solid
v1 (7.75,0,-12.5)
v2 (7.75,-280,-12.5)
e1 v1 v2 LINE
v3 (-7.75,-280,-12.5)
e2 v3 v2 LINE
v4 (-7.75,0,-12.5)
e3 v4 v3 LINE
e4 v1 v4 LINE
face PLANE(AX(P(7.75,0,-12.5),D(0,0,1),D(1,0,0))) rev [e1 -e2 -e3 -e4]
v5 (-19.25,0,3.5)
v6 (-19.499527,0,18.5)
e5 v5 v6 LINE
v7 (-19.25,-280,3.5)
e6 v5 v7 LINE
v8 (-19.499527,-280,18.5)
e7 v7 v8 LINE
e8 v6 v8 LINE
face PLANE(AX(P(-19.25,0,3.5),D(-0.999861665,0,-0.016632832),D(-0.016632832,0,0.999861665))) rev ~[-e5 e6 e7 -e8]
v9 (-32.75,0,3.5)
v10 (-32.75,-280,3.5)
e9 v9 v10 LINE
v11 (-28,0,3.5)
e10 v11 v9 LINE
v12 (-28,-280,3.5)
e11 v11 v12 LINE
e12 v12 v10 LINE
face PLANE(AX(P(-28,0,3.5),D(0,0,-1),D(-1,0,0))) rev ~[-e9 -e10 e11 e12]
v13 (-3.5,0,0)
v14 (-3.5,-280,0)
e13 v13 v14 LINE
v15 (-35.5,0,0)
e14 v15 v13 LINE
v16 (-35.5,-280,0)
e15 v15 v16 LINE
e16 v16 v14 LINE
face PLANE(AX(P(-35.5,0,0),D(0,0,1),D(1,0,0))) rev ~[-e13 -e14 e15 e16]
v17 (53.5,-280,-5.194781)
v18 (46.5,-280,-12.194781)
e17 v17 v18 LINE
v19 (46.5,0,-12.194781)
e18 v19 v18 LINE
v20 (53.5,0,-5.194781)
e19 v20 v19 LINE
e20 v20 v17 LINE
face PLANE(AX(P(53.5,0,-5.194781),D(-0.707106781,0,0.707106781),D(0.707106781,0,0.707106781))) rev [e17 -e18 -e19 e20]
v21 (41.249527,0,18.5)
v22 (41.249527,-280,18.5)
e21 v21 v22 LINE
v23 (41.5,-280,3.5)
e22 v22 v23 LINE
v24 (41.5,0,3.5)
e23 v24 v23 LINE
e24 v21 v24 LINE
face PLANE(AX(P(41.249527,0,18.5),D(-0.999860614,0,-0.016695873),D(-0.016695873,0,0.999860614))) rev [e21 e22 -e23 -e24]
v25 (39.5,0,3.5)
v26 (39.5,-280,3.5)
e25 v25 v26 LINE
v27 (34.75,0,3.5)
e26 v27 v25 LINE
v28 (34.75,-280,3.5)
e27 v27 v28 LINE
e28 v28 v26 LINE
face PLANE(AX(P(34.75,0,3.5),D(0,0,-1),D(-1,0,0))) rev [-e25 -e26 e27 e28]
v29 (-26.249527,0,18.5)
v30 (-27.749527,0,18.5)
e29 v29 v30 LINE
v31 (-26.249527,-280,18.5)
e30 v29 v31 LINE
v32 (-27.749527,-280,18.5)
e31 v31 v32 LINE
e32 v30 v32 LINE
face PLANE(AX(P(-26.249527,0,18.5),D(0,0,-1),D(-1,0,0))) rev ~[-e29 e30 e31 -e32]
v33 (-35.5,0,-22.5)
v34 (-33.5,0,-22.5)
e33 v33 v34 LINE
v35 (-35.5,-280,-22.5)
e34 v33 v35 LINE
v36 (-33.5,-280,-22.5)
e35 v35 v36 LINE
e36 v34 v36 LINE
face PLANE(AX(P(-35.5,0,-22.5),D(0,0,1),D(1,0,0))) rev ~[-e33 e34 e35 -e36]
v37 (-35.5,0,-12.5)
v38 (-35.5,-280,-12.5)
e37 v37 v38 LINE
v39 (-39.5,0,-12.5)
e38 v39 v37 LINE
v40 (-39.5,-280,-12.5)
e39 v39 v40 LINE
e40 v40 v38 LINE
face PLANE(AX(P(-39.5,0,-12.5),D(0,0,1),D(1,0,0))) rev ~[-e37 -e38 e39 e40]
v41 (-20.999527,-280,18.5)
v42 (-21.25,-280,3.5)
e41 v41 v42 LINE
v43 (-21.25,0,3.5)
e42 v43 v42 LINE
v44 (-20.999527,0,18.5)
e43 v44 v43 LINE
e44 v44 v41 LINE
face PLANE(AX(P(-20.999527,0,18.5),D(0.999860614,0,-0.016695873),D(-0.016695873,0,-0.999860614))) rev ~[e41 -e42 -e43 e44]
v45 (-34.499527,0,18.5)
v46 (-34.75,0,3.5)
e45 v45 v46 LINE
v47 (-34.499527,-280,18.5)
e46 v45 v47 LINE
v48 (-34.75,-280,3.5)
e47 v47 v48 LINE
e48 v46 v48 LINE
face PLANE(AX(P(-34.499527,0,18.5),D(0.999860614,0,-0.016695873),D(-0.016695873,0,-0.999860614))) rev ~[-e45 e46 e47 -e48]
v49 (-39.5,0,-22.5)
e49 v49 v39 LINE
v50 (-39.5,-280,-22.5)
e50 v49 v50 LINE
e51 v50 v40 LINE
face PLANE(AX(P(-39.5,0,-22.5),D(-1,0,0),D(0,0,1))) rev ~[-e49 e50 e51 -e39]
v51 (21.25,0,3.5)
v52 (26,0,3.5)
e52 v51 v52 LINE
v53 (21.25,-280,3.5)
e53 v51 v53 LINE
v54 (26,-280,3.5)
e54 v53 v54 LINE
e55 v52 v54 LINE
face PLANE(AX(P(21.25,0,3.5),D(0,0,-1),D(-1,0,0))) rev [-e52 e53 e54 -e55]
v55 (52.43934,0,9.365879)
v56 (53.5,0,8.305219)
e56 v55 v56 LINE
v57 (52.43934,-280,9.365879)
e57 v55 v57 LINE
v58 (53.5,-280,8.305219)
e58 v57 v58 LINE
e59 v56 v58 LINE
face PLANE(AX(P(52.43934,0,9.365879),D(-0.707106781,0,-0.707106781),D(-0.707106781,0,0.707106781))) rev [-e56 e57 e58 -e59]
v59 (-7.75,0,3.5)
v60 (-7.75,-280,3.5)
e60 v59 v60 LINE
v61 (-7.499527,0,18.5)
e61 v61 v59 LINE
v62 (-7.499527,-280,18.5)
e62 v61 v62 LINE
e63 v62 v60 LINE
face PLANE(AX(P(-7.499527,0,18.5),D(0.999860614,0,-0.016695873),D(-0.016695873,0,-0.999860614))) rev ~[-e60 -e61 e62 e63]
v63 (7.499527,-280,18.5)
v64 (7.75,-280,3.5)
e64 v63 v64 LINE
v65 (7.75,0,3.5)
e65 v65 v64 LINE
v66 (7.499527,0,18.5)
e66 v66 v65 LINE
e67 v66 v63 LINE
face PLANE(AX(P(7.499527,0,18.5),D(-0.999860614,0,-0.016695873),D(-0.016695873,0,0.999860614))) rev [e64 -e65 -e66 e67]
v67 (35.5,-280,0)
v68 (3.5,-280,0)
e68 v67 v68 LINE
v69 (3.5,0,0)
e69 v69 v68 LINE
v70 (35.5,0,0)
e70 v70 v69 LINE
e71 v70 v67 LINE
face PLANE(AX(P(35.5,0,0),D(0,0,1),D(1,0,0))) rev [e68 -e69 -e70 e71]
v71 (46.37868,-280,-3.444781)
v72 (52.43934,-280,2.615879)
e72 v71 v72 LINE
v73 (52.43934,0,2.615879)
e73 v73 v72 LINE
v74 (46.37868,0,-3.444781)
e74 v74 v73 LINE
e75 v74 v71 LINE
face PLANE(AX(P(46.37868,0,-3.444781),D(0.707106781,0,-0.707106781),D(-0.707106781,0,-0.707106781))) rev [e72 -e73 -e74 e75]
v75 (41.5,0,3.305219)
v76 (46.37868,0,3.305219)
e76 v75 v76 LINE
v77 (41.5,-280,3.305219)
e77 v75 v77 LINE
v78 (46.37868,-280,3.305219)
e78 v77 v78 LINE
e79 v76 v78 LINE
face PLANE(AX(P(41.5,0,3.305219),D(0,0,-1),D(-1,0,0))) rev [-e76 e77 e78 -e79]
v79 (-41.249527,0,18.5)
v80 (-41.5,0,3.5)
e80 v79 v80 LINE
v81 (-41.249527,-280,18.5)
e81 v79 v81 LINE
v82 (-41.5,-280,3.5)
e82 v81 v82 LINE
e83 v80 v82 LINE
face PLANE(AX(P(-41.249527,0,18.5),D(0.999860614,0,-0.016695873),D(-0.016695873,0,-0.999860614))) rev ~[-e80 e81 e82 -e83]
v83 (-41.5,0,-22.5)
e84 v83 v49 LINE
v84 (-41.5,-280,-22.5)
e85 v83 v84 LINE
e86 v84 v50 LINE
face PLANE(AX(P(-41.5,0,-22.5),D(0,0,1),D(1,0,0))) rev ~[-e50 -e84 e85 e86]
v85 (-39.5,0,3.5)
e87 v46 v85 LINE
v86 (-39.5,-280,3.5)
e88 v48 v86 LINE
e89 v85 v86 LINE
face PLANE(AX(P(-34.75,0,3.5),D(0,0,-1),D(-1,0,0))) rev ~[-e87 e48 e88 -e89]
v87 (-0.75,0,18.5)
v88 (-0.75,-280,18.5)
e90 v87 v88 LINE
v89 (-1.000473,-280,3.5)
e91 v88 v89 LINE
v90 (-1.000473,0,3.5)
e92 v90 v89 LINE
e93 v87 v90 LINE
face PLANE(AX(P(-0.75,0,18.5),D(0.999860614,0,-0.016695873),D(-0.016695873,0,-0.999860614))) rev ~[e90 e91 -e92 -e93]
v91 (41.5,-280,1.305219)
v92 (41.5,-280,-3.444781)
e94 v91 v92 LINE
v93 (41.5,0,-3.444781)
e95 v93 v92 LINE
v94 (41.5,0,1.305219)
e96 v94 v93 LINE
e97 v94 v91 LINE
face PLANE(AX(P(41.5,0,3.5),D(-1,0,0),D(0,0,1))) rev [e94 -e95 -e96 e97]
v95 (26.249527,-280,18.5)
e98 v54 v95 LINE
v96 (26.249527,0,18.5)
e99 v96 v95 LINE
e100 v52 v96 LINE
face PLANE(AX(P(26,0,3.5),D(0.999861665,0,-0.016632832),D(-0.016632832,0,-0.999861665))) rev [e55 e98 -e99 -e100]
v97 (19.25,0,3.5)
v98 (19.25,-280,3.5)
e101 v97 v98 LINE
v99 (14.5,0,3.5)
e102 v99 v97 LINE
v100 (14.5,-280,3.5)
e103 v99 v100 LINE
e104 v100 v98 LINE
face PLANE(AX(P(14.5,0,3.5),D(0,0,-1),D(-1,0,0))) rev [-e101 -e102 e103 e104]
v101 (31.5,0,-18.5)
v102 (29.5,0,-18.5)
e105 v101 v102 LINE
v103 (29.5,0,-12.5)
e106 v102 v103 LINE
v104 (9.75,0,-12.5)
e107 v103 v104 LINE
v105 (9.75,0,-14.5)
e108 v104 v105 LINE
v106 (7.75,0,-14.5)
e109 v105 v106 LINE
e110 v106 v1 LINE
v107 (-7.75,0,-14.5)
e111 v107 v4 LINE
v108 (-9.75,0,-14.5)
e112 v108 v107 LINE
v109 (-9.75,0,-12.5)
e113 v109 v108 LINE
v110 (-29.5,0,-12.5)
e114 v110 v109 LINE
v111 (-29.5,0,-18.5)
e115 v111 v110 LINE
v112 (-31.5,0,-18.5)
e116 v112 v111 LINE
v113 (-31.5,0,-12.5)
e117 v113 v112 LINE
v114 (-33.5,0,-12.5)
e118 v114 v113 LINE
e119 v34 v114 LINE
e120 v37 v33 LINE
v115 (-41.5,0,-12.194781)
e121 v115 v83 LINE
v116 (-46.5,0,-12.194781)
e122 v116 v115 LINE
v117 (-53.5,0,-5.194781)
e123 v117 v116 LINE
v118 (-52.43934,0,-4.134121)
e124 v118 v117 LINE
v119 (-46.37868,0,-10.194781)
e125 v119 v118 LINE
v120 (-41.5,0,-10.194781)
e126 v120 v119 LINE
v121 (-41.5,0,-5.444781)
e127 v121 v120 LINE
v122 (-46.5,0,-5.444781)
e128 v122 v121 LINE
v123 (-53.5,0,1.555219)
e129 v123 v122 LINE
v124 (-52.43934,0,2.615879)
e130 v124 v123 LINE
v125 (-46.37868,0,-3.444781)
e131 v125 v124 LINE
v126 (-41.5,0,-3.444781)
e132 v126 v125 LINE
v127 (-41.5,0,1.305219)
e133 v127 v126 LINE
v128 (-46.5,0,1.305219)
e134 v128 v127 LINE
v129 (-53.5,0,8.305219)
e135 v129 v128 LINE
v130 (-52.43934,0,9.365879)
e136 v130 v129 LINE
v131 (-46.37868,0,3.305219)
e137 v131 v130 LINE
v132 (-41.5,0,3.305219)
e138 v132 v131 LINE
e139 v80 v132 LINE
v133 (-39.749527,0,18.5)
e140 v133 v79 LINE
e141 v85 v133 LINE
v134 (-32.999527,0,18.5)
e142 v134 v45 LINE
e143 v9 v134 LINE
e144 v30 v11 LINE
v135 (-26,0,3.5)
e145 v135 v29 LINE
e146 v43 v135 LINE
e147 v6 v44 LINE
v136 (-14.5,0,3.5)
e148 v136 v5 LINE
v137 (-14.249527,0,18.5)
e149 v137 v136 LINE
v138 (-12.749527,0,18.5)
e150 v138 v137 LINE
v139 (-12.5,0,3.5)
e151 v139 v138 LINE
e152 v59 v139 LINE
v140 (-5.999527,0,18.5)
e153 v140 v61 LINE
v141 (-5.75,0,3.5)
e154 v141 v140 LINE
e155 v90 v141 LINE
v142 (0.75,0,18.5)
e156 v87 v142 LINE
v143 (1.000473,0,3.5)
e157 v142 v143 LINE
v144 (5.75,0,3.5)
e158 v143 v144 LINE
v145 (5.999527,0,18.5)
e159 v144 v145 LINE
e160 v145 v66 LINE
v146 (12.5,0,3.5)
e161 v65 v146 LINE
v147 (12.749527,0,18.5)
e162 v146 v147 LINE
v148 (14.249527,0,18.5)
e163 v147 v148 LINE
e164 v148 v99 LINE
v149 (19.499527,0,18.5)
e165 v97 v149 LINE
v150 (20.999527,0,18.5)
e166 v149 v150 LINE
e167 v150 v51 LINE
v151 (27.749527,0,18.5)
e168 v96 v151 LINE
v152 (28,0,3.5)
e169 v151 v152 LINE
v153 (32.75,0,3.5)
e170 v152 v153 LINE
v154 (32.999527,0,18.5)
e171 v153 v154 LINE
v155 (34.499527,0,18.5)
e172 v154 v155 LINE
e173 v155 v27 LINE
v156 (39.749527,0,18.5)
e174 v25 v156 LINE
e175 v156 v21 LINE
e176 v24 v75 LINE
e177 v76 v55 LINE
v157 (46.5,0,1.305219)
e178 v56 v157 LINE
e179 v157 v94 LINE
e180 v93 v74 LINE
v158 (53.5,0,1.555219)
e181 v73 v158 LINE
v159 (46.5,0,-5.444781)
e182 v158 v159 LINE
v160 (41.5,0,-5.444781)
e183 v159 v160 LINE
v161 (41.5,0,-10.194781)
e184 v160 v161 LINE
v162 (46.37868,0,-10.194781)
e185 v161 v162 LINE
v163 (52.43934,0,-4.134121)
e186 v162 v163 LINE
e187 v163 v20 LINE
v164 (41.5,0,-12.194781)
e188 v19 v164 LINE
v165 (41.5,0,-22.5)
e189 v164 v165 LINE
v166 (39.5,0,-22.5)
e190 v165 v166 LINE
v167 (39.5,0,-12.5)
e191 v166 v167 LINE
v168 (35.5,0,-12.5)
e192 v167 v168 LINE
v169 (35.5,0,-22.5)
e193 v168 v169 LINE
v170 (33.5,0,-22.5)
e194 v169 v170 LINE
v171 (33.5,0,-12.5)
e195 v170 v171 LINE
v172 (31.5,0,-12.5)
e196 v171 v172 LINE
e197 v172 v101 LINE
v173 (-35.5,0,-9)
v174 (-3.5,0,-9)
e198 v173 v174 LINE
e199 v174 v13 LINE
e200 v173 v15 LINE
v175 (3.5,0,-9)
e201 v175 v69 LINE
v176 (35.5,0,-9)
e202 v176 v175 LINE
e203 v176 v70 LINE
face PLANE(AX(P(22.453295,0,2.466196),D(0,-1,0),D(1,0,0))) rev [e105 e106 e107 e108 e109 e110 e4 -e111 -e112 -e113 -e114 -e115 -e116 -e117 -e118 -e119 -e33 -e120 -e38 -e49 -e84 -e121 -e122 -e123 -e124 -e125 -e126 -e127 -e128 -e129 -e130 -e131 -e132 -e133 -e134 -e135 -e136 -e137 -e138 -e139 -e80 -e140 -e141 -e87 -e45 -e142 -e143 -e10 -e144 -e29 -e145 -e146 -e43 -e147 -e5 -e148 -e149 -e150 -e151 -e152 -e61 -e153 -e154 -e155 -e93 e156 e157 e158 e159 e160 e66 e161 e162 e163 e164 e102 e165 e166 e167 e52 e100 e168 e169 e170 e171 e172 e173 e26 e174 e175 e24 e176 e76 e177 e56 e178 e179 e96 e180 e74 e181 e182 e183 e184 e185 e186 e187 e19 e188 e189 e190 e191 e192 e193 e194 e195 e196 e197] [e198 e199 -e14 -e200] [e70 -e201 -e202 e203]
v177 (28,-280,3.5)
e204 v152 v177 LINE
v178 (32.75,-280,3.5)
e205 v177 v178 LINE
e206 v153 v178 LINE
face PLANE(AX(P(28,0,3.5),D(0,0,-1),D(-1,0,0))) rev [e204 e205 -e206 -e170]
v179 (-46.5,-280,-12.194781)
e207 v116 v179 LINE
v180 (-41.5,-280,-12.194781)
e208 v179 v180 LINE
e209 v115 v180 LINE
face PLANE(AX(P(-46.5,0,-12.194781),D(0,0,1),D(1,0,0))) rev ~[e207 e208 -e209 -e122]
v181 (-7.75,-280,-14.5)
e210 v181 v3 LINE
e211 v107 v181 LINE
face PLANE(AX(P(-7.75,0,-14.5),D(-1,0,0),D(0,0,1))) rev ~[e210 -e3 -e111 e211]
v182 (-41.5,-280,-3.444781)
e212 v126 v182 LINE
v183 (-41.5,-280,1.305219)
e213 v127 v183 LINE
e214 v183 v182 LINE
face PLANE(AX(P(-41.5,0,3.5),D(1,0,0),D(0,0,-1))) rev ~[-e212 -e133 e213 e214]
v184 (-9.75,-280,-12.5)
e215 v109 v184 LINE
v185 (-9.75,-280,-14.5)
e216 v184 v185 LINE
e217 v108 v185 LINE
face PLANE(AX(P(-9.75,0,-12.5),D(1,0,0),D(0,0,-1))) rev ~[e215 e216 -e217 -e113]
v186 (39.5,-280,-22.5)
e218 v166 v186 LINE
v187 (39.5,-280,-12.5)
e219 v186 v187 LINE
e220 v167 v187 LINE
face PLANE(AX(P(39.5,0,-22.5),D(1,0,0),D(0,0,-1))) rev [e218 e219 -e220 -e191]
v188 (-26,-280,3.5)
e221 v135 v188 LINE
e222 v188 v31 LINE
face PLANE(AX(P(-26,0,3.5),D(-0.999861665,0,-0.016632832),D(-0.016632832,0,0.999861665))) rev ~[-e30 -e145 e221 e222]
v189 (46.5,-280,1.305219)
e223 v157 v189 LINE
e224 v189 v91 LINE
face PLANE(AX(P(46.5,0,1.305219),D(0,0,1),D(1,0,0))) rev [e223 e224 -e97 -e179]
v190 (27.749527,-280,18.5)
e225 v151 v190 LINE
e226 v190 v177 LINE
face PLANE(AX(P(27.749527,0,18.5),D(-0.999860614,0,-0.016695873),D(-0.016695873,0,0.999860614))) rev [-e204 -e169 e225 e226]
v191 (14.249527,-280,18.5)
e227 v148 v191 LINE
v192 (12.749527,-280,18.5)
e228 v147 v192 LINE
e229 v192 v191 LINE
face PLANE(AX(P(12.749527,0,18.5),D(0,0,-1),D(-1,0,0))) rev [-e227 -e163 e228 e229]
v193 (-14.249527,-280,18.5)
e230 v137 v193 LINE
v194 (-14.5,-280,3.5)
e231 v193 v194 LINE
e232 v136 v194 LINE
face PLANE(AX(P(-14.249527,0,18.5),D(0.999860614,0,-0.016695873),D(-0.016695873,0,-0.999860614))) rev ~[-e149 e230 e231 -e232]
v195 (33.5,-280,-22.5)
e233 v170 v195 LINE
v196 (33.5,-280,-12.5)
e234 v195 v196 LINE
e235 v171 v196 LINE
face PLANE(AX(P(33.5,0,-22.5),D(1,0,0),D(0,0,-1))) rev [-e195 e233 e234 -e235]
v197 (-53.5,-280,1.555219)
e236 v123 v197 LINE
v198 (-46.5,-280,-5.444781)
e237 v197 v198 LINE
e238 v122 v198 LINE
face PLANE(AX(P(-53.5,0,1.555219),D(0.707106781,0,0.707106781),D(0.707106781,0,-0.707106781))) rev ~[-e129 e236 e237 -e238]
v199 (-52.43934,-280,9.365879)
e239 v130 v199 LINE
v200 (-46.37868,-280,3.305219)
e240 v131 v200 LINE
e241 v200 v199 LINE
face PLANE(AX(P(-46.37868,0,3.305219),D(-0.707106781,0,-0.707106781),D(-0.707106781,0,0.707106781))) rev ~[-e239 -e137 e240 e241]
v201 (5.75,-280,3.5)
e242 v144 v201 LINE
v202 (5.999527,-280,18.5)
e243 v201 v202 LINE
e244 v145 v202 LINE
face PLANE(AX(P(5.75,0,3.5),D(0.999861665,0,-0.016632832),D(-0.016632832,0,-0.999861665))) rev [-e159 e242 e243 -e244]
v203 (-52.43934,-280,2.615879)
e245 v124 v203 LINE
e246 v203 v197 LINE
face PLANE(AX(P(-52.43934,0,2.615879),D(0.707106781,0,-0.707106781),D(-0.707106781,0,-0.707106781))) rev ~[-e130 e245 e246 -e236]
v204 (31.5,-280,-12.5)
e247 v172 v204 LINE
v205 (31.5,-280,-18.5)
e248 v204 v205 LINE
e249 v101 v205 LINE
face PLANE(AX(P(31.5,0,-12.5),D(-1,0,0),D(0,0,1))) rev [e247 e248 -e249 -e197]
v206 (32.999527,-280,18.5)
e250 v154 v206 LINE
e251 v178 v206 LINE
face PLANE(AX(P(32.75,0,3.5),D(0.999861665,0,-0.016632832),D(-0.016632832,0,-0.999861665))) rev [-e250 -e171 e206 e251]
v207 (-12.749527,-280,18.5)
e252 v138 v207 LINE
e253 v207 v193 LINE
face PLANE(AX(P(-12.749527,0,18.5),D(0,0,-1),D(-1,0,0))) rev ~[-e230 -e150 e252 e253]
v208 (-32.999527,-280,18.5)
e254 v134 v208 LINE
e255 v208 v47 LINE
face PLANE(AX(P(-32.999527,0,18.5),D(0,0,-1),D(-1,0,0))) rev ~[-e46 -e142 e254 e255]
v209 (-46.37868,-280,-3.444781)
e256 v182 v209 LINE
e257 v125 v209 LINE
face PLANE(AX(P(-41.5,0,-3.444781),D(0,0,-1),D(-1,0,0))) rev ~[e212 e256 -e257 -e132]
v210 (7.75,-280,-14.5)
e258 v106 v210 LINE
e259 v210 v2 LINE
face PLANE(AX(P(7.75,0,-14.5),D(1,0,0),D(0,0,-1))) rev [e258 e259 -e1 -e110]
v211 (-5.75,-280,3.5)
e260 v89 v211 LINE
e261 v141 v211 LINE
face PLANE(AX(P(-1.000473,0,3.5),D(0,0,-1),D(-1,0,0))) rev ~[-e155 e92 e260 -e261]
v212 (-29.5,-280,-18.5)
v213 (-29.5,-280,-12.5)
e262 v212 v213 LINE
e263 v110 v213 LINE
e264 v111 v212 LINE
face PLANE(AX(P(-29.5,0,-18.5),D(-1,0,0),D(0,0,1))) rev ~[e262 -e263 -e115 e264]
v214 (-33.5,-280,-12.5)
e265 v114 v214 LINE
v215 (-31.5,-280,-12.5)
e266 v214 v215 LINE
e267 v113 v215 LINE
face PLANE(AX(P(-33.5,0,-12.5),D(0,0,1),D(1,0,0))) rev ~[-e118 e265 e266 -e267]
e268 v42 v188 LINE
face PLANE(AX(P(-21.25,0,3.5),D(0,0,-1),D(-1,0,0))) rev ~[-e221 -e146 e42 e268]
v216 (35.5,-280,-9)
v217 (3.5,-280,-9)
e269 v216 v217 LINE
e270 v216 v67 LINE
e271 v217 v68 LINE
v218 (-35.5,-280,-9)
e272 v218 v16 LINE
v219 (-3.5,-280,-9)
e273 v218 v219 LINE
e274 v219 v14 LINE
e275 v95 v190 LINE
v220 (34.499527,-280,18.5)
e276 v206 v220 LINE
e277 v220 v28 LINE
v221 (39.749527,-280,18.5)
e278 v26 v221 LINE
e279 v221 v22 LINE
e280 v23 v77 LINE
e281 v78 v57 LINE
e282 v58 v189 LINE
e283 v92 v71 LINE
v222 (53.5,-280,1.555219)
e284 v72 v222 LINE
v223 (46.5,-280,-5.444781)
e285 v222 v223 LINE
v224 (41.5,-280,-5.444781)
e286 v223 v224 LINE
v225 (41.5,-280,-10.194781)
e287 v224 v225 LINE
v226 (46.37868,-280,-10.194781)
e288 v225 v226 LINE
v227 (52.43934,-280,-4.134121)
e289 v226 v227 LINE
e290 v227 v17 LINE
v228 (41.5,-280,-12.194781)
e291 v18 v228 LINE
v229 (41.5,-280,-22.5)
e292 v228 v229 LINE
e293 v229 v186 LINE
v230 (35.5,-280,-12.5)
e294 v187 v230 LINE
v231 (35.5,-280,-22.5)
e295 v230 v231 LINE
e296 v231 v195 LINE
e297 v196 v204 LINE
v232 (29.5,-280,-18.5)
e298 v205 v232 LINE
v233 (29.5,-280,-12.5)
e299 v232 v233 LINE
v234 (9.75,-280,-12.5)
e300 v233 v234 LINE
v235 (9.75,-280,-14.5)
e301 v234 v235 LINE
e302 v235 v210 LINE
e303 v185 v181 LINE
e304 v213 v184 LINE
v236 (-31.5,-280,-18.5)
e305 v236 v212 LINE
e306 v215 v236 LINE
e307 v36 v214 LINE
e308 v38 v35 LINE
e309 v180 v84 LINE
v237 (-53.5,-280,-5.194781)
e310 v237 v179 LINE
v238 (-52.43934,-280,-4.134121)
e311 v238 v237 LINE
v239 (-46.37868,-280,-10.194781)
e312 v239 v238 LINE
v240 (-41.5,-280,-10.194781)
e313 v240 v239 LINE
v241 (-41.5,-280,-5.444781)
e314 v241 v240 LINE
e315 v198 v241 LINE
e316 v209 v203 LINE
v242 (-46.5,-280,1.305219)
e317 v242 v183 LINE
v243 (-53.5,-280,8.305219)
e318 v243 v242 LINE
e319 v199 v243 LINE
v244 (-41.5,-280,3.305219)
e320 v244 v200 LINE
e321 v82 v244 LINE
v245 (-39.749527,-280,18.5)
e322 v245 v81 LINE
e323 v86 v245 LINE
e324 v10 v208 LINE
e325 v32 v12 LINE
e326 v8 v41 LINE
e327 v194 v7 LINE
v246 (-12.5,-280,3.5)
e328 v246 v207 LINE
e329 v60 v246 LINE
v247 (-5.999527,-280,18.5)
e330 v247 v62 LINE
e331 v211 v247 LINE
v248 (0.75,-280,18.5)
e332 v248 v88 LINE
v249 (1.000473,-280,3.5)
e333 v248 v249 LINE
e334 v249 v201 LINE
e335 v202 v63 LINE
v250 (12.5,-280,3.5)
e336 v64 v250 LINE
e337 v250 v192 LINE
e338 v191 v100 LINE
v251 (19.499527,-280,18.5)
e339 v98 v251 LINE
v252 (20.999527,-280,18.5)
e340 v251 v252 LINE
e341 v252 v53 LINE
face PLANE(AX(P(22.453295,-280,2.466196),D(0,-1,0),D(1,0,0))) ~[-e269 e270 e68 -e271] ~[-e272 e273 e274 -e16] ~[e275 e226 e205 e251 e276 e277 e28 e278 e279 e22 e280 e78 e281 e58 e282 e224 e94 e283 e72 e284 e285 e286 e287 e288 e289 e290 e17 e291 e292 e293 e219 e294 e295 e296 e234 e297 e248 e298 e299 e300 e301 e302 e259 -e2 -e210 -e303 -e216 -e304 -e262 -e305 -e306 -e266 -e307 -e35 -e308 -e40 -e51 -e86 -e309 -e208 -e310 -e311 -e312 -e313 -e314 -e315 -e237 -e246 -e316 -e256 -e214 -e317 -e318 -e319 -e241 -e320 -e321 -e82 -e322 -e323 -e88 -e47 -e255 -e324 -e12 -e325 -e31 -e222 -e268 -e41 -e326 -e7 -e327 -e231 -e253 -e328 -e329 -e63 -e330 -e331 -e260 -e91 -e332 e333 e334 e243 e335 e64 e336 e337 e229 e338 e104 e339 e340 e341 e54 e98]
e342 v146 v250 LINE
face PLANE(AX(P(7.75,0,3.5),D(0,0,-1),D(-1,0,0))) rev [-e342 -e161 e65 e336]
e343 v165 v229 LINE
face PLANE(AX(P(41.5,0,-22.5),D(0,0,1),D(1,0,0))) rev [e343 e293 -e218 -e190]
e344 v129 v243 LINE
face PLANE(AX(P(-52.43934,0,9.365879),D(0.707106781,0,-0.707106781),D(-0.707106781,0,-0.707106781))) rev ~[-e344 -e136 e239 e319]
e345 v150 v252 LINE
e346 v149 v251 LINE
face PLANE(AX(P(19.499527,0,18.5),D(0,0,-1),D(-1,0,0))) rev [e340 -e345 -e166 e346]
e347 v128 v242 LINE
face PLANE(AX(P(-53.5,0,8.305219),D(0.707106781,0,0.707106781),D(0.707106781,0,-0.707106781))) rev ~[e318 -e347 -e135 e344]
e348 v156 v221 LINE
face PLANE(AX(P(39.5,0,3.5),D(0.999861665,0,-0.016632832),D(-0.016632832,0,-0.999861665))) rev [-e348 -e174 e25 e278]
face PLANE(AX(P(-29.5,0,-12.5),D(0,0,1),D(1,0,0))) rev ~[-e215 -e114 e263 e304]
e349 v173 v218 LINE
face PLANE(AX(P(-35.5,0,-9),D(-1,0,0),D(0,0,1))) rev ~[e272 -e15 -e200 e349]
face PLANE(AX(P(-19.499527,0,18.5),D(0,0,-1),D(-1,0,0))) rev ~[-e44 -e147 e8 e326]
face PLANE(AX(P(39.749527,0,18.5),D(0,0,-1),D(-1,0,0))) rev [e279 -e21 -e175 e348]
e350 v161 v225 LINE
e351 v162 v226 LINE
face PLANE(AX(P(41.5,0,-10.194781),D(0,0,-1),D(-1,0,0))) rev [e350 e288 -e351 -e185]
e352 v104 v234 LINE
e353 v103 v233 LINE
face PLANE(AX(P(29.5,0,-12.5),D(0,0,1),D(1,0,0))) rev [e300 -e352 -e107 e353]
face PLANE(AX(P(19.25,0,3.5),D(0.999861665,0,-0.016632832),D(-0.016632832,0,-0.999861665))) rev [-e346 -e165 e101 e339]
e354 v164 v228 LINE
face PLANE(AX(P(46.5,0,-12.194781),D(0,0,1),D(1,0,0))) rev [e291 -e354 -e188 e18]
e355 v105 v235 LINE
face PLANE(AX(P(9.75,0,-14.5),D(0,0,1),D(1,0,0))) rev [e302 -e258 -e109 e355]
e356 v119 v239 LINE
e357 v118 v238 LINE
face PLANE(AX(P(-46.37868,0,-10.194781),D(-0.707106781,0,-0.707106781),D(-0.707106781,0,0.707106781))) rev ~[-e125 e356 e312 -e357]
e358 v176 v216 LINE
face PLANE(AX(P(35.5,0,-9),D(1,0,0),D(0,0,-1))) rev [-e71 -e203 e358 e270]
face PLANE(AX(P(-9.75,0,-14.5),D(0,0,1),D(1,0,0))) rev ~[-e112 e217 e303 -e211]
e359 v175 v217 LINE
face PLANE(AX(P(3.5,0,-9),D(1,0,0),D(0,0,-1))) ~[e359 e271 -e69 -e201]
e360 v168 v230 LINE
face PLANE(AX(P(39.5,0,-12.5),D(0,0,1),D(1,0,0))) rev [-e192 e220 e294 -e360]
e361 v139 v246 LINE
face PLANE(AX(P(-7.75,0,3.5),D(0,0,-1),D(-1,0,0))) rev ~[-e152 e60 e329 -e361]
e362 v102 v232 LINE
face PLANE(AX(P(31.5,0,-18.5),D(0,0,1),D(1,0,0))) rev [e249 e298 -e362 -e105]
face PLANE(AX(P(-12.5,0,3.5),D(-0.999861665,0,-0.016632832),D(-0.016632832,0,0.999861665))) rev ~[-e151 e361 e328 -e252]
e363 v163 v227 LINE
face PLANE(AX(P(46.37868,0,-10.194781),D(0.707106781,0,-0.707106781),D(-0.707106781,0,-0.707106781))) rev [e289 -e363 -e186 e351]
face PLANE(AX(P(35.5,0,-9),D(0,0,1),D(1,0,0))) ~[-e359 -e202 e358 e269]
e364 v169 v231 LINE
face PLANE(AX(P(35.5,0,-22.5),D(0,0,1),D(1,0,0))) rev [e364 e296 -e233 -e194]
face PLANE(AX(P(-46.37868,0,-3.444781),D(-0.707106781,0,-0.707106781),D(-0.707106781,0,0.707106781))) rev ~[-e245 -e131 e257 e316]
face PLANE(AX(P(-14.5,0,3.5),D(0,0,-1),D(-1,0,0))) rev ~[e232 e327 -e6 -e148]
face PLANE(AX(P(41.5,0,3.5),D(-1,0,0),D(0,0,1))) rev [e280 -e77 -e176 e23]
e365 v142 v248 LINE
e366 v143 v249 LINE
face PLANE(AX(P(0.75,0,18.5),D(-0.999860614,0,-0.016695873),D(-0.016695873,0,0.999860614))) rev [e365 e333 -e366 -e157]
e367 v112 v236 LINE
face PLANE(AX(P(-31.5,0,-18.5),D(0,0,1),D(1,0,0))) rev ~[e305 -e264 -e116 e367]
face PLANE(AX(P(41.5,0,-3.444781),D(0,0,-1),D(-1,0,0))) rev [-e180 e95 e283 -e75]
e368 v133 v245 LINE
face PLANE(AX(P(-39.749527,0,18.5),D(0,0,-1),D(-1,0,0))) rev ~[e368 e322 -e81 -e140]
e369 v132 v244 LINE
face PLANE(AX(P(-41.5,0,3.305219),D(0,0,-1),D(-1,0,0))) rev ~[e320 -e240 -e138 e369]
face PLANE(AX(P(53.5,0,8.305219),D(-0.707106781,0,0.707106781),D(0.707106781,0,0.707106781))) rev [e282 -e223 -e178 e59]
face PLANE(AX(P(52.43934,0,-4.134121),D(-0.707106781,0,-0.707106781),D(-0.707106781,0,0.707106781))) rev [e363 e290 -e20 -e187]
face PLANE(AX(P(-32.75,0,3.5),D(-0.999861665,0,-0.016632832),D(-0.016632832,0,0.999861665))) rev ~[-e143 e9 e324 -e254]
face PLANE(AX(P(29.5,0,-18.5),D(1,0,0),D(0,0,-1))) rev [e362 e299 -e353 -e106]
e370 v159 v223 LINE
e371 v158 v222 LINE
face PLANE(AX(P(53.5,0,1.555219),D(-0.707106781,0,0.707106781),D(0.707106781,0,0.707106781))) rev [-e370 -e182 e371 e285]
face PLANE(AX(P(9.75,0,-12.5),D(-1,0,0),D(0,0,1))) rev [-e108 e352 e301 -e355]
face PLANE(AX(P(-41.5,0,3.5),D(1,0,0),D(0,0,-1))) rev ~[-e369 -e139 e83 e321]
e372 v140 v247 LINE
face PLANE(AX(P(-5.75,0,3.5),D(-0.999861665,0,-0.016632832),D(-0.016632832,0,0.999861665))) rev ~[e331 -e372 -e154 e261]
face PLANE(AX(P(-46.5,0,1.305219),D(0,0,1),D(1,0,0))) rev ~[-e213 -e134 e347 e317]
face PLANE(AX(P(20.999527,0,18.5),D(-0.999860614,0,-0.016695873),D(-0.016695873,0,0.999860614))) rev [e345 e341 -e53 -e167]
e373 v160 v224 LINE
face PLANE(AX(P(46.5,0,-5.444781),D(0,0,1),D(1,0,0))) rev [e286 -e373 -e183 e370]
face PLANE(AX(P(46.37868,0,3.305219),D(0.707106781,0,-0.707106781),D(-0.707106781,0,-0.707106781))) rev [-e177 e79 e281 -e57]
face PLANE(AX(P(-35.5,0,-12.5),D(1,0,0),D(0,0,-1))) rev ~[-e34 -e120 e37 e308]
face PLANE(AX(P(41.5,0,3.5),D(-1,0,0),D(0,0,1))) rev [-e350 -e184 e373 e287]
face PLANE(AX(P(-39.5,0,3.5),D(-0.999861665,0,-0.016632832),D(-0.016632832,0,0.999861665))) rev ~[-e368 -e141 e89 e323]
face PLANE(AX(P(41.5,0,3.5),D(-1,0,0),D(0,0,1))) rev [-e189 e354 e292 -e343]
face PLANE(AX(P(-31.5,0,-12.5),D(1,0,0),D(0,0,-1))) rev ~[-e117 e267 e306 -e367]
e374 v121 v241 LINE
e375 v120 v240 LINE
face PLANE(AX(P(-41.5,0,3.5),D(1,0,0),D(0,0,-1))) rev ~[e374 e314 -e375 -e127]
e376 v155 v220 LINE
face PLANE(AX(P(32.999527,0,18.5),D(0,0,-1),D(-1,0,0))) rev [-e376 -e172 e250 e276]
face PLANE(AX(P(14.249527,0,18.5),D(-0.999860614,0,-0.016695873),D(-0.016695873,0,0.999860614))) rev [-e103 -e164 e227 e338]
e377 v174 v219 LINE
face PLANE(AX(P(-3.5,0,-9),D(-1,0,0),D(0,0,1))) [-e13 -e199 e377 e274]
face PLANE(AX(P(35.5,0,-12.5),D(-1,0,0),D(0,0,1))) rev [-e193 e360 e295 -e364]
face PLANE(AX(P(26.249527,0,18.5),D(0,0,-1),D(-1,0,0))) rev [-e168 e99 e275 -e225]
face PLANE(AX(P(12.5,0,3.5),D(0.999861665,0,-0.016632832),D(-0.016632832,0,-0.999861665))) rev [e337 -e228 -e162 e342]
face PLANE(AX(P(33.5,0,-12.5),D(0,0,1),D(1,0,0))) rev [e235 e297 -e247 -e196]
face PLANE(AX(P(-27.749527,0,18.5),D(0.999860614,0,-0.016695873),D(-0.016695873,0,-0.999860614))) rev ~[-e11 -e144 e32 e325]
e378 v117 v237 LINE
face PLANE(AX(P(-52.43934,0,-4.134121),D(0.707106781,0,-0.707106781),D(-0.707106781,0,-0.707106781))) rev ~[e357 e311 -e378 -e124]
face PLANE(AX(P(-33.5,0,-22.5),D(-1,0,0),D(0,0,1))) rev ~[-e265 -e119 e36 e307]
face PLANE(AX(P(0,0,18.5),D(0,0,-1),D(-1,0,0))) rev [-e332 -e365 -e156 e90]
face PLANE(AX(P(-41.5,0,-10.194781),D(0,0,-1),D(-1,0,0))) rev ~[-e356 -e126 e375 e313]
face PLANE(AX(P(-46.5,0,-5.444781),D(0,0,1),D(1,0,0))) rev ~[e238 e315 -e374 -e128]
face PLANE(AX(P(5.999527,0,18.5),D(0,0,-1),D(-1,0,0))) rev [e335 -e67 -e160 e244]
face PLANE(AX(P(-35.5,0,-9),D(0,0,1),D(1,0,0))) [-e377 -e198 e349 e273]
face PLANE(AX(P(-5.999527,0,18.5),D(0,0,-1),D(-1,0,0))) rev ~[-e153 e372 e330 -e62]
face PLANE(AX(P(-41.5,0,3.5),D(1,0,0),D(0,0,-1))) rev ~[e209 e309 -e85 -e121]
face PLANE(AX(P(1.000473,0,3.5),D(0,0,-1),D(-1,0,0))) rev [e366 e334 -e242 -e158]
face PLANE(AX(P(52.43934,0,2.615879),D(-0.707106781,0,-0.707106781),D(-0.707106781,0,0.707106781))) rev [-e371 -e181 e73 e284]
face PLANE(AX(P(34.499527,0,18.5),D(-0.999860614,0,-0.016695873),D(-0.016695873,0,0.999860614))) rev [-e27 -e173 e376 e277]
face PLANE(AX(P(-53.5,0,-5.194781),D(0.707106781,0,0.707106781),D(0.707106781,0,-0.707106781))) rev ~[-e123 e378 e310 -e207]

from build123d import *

# Parameters (mm, degrees)
F0_W     = 32
F0_H     = 9
F1_DEPTH = 280
F3_DEPTH = 280


with BuildPart() as f1:
    # F0 (on Front) → F1 (new body)
    with BuildSketch(Plane.XZ):
        Polygon((-41.5, -22.5), (-39.5, -22.5), (-39.5, -12.5), (-35.5, -12.5), (-35.5, -22.5), (-33.5, -22.5), (-33.5, -12.5), (-31.5, -12.5), (-31.5, -18.5), (-29.5, -18.5), (-29.5, -12.5), (-9.75, -12.5), (-9.75, -14.5), (-7.75, -14.5), (-7.75, -12.5), (0, -12.5), (0, 18.5), (-0.75, 18.5), (-1.000473, 3.5), (-5.75, 3.5), (-5.999527, 18.5), (-7.499527, 18.5), (-7.75, 3.5), (-12.5, 3.5), (-12.749527, 18.5), (-14.249527, 18.5), (-14.5, 3.5), (-19.25, 3.5), (-19.499527, 18.5), (-20.999527, 18.5), (-21.25, 3.5), (-26, 3.5), (-26.249527, 18.5), (-27.749527, 18.5), (-28, 3.5), (-32.75, 3.5), (-32.999527, 18.5), (-34.499527, 18.5), (-34.75, 3.5), (-39.5, 3.5), (-39.749527, 18.5), (-41.249527, 18.5), (-41.5, 3.5), align=None)
        with Locations((-19.5, -4.5)):
            Rectangle(F0_W, F0_H, mode=Mode.SUBTRACT)
    extrude(amount=F1_DEPTH)

    # F2 (on Front) → F3 (join)
    with BuildSketch(Plane.XZ):
        Polygon((-46.5, -12.194781), (-41.5, -12.194781), (-41.5, -10.194781), (-46.37868, -10.194781), (-52.43934, -4.134121), (-53.5, -5.194781), align=None)
        Polygon((-53.5, 1.555219), (-46.5, -5.444781), (-41.5, -5.444781), (-41.5, -3.444781), (-46.37868, -3.444781), (-52.43934, 2.615879), align=None)
        Polygon((-53.5, 8.305219), (-46.5, 1.305219), (-41.5, 1.305219), (-41.5, 3.305219), (-46.37868, 3.305219), (-52.43934, 9.365879), align=None)
    extrude(amount=F3_DEPTH)

    # F4: F1 across face


with BuildPart() as f1_1:
    add(f1.part)
    add(f1.part.mirror(Plane(origin=(0, -140, 3), x_dir=(0, 1, 0), z_dir=(1, 0, 0))))


solid = f1_1.part
